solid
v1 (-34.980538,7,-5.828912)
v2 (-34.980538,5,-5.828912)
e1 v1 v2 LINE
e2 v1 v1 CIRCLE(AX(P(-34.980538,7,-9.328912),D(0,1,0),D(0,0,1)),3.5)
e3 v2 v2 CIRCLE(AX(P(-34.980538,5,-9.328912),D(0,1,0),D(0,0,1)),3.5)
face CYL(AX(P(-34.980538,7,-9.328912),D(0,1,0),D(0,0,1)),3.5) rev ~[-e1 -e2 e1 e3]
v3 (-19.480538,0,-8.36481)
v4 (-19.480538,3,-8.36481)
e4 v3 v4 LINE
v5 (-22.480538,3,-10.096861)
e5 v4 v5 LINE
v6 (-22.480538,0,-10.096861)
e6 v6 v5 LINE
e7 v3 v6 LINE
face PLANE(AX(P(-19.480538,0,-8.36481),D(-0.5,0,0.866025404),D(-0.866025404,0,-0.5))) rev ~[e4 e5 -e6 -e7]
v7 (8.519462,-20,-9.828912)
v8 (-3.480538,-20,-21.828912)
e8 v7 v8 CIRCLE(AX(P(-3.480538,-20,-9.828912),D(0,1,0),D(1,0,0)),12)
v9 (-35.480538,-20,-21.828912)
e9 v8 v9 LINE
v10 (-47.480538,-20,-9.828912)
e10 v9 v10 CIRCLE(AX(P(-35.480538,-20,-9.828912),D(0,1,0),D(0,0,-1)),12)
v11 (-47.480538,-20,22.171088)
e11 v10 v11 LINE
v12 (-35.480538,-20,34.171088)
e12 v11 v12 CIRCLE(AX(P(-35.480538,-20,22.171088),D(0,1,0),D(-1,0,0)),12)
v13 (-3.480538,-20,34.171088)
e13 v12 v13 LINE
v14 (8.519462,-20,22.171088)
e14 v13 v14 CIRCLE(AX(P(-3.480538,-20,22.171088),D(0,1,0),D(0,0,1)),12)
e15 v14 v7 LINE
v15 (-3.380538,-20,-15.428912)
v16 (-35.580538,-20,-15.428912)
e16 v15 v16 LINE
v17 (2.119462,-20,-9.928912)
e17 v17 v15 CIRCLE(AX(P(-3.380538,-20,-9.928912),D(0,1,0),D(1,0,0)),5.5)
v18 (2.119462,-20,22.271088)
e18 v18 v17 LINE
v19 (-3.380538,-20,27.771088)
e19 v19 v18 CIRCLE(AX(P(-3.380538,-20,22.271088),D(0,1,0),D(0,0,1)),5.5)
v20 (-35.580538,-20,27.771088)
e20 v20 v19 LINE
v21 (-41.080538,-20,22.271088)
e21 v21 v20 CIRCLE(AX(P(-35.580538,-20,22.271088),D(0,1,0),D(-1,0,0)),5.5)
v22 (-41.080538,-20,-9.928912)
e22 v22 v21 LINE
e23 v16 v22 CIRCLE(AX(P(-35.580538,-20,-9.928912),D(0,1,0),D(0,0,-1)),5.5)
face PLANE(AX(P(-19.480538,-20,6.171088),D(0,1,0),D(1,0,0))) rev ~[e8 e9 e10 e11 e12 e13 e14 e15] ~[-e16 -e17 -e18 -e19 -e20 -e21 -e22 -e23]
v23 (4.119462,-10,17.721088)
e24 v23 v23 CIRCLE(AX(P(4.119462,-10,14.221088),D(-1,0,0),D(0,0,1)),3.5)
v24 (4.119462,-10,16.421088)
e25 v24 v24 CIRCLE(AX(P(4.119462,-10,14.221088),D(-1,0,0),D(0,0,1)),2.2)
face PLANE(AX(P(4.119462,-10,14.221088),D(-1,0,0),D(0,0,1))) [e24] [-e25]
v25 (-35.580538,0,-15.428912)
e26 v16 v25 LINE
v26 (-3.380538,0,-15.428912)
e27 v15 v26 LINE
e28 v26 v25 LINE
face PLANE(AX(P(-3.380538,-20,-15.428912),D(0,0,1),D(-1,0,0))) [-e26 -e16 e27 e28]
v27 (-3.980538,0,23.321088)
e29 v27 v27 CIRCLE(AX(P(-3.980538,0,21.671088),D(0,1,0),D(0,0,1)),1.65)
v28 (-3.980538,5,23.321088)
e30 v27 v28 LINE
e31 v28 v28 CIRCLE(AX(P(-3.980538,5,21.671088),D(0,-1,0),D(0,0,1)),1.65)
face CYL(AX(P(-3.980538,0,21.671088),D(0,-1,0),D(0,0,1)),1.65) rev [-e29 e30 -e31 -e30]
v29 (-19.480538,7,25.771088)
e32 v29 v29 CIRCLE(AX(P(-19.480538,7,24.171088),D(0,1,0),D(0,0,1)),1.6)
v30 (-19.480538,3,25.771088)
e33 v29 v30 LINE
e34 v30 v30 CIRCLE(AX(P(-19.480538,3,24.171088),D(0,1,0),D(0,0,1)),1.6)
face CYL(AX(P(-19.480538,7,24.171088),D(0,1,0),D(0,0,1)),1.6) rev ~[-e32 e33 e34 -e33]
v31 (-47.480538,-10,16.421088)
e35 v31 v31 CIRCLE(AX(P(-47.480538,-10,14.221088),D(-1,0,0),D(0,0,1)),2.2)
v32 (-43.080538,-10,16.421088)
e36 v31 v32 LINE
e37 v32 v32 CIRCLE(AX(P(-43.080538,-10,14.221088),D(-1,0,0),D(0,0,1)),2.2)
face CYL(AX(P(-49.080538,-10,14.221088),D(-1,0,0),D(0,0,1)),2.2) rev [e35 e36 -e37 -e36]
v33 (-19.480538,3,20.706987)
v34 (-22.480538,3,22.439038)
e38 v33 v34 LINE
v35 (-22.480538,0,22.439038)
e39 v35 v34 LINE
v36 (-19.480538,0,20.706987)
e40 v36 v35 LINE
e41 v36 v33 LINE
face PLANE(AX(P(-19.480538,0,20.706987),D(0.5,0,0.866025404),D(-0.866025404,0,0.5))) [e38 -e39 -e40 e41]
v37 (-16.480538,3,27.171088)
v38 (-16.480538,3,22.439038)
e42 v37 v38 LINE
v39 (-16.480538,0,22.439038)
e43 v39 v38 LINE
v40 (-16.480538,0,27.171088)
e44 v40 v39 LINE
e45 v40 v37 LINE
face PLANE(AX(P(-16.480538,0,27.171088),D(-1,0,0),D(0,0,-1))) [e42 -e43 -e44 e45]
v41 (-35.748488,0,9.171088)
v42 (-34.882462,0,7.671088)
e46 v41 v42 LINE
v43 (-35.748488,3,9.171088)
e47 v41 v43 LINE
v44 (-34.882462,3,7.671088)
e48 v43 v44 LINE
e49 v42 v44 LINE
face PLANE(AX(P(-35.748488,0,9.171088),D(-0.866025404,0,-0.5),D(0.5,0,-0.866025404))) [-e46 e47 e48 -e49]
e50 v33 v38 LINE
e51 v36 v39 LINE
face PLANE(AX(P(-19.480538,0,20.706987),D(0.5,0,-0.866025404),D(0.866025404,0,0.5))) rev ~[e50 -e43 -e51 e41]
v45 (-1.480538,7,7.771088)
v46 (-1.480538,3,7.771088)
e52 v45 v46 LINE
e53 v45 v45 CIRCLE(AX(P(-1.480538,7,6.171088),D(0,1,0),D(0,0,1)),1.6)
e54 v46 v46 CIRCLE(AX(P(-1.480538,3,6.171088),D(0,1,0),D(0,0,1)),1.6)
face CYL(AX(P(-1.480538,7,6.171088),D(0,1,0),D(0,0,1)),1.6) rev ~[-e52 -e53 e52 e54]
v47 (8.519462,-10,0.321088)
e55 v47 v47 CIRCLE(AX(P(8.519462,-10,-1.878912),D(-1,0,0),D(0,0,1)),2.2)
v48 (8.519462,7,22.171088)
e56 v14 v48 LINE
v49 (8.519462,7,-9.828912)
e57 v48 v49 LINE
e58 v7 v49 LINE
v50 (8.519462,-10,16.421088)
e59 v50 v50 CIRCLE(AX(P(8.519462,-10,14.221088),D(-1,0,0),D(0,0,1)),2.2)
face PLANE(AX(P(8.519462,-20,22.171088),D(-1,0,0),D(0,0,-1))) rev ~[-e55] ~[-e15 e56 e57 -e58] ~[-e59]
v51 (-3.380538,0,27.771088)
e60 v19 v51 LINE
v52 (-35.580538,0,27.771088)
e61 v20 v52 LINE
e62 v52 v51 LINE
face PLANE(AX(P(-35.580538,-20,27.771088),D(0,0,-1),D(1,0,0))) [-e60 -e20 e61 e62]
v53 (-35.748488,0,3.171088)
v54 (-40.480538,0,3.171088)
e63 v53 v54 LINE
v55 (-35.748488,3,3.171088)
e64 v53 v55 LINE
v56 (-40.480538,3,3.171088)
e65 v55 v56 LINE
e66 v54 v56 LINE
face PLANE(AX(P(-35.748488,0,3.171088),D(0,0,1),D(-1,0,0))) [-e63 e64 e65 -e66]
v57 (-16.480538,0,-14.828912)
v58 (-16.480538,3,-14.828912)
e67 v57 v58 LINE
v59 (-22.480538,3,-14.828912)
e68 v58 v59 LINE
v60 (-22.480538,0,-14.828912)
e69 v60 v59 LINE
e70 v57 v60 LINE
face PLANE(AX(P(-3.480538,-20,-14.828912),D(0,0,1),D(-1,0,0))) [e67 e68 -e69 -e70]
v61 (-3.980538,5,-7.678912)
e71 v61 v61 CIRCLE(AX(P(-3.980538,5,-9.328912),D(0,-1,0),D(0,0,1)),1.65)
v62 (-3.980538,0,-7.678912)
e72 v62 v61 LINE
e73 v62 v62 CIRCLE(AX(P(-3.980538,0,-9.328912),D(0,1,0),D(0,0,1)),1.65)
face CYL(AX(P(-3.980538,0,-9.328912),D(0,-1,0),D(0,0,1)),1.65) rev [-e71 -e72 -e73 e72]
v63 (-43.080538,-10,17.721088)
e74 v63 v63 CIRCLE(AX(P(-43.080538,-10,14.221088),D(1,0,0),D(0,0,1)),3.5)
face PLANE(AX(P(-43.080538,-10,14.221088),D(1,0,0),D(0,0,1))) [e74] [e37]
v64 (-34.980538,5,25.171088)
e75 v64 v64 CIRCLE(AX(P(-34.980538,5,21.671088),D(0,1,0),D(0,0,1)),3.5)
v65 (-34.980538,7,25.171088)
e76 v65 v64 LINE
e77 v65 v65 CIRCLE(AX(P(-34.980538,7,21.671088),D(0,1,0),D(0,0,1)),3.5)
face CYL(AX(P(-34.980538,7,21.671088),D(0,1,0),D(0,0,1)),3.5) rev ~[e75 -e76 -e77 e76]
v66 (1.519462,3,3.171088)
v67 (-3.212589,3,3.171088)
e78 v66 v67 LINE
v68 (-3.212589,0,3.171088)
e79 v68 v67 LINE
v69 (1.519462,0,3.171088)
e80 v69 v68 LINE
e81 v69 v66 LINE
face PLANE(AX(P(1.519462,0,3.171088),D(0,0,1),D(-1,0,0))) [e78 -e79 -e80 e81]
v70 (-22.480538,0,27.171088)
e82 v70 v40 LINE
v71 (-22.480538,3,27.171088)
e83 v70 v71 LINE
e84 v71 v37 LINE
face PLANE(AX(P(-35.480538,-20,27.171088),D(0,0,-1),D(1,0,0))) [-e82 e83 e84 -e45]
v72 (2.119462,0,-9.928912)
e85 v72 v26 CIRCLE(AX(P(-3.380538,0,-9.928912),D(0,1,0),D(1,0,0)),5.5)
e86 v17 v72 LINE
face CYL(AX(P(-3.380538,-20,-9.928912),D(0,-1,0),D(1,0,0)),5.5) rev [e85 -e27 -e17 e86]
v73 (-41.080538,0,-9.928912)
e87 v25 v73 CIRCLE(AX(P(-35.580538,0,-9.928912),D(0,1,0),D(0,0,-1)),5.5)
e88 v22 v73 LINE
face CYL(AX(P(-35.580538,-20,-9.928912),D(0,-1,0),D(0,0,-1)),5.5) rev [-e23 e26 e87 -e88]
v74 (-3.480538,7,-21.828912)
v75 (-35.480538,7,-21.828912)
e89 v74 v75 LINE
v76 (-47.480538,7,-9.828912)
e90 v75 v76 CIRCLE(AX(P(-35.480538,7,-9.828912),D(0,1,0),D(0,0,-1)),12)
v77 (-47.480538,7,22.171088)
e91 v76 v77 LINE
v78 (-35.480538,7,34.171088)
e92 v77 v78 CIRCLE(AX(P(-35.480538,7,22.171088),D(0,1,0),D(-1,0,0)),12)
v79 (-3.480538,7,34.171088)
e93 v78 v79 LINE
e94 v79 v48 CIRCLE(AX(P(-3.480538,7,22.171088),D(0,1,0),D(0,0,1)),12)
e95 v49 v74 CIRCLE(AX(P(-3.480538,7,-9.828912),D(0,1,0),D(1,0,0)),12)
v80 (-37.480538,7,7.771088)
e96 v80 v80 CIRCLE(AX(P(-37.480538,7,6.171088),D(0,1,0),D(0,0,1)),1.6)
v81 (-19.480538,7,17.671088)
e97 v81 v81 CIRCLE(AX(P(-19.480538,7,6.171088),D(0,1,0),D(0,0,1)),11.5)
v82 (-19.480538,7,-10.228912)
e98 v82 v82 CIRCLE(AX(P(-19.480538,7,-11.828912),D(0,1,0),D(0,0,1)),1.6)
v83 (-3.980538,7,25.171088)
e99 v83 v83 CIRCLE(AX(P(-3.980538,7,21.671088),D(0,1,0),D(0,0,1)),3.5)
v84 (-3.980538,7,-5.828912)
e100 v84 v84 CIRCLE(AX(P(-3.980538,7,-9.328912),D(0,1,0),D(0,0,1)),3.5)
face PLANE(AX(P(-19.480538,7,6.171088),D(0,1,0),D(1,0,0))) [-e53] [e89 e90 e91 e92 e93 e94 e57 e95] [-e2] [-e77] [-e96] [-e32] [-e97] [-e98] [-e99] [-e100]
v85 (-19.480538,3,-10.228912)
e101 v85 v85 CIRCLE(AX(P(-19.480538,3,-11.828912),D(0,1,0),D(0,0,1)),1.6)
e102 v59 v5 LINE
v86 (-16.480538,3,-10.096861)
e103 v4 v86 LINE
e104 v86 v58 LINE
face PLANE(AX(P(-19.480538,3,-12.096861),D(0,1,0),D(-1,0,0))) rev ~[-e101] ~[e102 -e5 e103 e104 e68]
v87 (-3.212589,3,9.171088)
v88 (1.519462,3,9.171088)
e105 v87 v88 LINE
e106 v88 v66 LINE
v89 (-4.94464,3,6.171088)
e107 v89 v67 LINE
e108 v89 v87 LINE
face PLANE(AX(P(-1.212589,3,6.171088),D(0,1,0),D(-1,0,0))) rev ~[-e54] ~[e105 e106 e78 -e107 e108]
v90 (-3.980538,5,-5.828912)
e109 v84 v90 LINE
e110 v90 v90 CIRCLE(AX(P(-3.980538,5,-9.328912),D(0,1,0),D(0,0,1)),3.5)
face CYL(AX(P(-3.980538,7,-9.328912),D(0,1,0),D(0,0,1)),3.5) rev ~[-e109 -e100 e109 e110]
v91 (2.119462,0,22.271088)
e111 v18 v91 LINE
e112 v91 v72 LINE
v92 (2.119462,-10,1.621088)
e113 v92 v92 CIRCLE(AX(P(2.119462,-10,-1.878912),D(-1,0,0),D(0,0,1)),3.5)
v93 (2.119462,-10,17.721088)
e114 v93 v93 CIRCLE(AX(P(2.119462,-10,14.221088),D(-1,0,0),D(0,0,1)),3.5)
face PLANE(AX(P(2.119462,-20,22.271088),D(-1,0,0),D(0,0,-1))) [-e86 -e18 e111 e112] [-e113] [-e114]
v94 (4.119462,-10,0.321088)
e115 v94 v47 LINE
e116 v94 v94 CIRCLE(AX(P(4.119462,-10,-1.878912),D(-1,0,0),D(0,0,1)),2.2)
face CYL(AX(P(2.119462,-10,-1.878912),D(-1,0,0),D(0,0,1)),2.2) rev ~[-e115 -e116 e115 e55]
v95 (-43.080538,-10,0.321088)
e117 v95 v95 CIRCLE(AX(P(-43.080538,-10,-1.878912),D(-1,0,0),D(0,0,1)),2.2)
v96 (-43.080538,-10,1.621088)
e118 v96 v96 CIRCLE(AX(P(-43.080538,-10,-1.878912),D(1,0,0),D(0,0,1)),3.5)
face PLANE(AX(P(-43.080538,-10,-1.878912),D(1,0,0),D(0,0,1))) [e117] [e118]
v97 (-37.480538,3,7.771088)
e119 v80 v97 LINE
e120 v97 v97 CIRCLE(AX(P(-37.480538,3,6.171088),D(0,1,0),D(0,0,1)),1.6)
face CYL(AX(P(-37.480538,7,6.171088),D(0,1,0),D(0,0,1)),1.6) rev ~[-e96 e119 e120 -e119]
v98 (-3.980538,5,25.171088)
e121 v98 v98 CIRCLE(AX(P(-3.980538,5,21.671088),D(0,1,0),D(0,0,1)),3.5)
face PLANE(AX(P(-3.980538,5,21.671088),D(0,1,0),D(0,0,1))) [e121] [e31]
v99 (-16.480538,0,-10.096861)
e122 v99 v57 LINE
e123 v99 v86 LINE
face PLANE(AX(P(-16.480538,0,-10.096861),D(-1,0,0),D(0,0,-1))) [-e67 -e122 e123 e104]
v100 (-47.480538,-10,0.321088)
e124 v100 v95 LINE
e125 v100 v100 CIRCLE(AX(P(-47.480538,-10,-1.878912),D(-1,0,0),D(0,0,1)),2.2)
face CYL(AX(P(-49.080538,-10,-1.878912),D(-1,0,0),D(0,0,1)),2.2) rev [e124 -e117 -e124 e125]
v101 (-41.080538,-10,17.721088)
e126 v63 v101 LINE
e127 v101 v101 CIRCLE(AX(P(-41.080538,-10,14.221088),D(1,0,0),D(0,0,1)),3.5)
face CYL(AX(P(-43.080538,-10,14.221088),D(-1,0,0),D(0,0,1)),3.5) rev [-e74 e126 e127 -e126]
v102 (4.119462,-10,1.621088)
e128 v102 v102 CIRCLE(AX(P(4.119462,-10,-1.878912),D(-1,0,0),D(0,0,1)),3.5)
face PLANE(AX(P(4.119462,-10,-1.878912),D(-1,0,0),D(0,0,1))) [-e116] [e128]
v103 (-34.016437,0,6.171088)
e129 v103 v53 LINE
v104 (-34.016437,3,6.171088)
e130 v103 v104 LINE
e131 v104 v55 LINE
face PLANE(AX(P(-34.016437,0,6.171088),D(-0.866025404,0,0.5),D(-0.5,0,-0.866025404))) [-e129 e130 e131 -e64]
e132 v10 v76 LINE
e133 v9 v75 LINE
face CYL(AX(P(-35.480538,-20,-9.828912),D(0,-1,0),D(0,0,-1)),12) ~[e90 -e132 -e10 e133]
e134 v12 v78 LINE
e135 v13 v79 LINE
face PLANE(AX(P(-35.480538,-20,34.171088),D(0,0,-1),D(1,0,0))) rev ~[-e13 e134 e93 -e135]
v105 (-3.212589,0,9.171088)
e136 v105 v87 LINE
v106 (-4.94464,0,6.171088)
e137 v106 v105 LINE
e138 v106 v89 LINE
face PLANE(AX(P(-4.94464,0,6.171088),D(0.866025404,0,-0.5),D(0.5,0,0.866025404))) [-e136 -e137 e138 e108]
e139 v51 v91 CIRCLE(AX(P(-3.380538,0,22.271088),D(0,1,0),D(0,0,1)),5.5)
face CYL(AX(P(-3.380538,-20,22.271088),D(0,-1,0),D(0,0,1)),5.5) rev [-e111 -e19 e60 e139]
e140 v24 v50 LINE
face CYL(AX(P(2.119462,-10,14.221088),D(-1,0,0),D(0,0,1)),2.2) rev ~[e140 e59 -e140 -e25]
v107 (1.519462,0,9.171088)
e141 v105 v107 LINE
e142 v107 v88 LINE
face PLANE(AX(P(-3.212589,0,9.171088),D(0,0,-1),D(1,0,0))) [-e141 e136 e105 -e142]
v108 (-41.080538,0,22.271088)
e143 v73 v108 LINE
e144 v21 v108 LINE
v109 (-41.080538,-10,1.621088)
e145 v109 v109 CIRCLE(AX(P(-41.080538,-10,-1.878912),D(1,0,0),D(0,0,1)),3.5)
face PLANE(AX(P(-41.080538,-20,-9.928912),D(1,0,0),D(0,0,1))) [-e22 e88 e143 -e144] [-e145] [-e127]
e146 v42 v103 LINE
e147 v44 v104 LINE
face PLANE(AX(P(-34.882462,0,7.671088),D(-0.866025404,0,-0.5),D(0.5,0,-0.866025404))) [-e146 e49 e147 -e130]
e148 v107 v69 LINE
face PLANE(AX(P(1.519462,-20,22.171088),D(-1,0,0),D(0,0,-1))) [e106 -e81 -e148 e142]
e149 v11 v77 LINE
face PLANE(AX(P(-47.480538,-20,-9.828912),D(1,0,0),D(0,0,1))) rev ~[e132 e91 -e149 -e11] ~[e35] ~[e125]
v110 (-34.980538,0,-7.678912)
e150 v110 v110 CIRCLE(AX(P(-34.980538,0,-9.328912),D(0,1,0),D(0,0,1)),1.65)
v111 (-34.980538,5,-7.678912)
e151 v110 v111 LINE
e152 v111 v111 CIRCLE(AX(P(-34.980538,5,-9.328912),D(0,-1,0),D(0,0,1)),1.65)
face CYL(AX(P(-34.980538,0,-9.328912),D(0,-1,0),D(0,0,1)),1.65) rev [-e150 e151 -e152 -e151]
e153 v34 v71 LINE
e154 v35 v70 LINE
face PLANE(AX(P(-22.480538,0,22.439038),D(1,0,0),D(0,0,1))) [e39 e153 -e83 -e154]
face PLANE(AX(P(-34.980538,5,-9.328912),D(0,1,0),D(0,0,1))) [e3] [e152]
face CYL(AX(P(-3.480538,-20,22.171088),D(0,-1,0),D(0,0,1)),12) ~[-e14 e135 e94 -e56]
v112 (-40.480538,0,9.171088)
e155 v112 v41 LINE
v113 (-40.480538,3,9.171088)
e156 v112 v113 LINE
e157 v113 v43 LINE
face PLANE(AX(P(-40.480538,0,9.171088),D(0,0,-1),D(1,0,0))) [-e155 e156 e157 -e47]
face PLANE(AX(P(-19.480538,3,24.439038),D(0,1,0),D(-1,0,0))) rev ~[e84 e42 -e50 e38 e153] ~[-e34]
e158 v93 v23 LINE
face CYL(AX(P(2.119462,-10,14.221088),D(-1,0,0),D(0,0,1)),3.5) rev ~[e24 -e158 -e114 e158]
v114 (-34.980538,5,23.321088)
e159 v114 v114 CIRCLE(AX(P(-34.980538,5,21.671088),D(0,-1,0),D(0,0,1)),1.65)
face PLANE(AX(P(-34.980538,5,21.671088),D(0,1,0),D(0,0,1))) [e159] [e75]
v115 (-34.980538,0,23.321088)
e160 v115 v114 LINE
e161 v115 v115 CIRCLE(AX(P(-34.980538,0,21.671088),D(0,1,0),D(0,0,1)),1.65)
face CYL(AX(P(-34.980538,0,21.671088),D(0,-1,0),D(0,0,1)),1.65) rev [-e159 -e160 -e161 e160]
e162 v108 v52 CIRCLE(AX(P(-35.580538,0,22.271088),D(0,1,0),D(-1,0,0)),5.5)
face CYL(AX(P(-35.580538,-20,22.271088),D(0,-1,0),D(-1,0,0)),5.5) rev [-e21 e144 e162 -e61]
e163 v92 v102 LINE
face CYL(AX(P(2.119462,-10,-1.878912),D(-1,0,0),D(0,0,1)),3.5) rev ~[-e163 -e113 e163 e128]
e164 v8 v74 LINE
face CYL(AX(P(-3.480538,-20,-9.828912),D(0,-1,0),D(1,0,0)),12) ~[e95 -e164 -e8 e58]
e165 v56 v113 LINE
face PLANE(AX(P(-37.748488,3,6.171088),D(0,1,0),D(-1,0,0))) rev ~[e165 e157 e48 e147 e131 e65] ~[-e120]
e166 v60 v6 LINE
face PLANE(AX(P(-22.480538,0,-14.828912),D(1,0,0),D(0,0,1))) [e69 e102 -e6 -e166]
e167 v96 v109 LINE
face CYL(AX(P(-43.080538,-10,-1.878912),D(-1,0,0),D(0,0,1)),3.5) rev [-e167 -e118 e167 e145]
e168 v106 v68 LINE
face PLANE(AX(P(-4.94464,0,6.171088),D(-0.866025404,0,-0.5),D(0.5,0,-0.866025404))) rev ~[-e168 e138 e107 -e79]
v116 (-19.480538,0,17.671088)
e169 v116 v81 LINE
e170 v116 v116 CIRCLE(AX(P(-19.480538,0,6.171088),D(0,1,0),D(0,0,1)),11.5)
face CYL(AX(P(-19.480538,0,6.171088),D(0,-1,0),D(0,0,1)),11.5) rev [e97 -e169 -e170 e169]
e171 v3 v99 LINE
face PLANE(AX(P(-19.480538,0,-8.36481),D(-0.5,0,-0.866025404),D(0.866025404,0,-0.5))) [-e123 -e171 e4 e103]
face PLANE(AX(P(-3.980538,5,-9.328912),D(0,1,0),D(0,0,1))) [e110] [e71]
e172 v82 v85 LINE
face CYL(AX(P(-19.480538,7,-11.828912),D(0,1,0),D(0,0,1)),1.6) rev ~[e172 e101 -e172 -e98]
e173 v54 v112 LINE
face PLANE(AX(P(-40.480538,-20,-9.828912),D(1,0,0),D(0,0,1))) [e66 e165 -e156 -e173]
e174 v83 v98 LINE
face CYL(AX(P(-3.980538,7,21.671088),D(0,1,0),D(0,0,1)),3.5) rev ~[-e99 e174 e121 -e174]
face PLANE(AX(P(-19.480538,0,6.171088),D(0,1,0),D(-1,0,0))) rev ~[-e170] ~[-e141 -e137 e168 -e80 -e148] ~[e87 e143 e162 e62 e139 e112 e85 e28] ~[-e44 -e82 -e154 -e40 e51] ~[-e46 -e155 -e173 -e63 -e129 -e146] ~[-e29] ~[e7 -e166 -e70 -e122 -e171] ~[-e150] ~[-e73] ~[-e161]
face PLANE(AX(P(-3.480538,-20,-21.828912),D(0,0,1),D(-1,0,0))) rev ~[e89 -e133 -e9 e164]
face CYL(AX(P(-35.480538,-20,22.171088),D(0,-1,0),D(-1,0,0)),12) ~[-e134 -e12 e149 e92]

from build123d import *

# Parameters (mm, degrees)
SKETCH1_R           = 1.65
SKETCH1_R_2         = 11.5
BOSS_EXTRUDE1_DEPTH = 7
CUT_EXTRUDE3_DEPTH  = 3
BOSS_EXTRUDE4_START = -27
BOSS_EXTRUDE4_DEPTH = 27
CUT_EXTRUDE4_DEPTH  = 20
SKETCH7_R           = 2.2
CUT_EXTRUDE5_DEPTH  = 27
SKETCH8_R           = 3.5
CUT_EXTRUDE6_DEPTH  = 2
CUT_EXTRUDE7_START  = -8
SKETCH9_R           = 2.2
CUT_EXTRUDE7_DEPTH  = 8
CUT_EXTRUDE8_START  = -2
SKETCH10_R          = 3.5
CUT_EXTRUDE8_DEPTH  = 2
SKETCH11_R          = 3.5
CUT_EXTRUDE9_DEPTH  = 2
SKETCH12_R          = 1.6
CUT_EXTRUDE10_DEPTH = 7


with BuildPart() as part:
    # Sketch1 → Boss-Extrude1 (new body)
    with BuildSketch(Plane(origin=(0, 0, 0), x_dir=(1, 0, 0), z_dir=(0, 1, 0))):
        with BuildLine():
            Line((-35.480538417, 14.828911565), (-3.480538417, 14.828911565))
            ThreePointArc((-3.480538417, 14.828911565), (0.054995489, 13.364445471), (1.519461583, 9.828911565))
            Line((1.519461583, 9.828911565), (1.519461583, -22.171088435))
            ThreePointArc((1.519461583, -22.171088435), (0.054995489, -25.706622341), (-3.480538417, -27.171088435))
            Line((-3.480538417, -27.171088435), (-35.480538417, -27.171088435))
            ThreePointArc((-35.480538417, -27.171088435), (-39.016072323, -25.706622341), (-40.480538417, -22.171088435))
            Line((-40.480538417, -22.171088435), (-40.480538417, 9.828911565))
            ThreePointArc((-40.480538417, 9.828911565), (-39.016072323, 13.364445471), (-35.480538417, 14.828911565))
        make_face()
        with Locations(Location((-34.980538417, 9.328911565, 0), (0, 0, 270))):
            Circle(SKETCH1_R, mode=Mode.SUBTRACT)
        with Locations(Location((-3.980538417, 9.328911565, 0), (0, 0, 270))):
            Circle(SKETCH1_R, mode=Mode.SUBTRACT)
        with Locations(Location((-34.980538417, -21.671088435, 0), (0, 0, 270))):
            Circle(SKETCH1_R, mode=Mode.SUBTRACT)
        with Locations(Location((-3.980538417, -21.671088435, 0), (0, 0, 270))):
            Circle(SKETCH1_R, mode=Mode.SUBTRACT)
        with Locations(Location((-19.480538417, -6.171088435, 0), (0, 0, 270))):
            Circle(SKETCH1_R_2, mode=Mode.SUBTRACT)
    extrude(amount=BOSS_EXTRUDE1_DEPTH)

    # Sketch4 → Cut-Extrude3 (cut)
    with BuildSketch(Plane.XZ):
        Polygon((-22.480538417, 27.171088435), (-16.480538417, 27.171088435), (-16.480538417, 22.439037628), (-17.980538417, 21.573012224), (-19.480538417, 20.70698682), (-22.480538417, 22.439037628), align=None)
        Polygon((1.519461583, 3.171088435), (-3.212589224, 3.171088435), (-4.078614628, 4.671088435), (-4.944640032, 6.171088435), (-3.212589224, 9.171088435), (1.519461583, 9.171088435), align=None)
        Polygon((-22.480538417, -14.828911565), (-22.480538417, -10.096860757), (-20.980538417, -9.230835353), (-19.480538417, -8.364809949), (-16.480538417, -10.096860757), (-16.480538417, -14.828911565), align=None)
        Polygon((-40.480538417, 9.171088435), (-35.748487609, 9.171088435), (-34.882462206, 7.671088435), (-34.016436802, 6.171088435), (-35.748487609, 3.171088435), (-40.480538417, 3.171088435), align=None)
    extrude(amount=-CUT_EXTRUDE3_DEPTH, mode=Mode.SUBTRACT)

    # Sketch5 → Boss-Extrude4 (add)
    with BuildSketch(Plane(origin=(0, 7, 0), x_dir=(1, 0, 0), z_dir=(0, 1, 0)).offset(BOSS_EXTRUDE4_START)):
        with BuildLine():
            Line((-47.480538417, 9.828911565), (-47.480538417, -22.171088435))
            ThreePointArc((-47.480538417, -22.171088435), (-43.965819791, -30.65636981), (-35.480538417, -34.171088435))
            Line((-35.480538417, -34.171088435), (-3.480538417, -34.171088435))
            ThreePointArc((-3.480538417, -34.171088435), (5.004742957, -30.65636981), (8.519461583, -22.171088435))
            Line((8.519461583, -22.171088435), (8.519461583, 9.828911565))
            ThreePointArc((8.519461583, 9.828911565), (5.004742957, 18.314192939), (-3.480538417, 21.828911565))
            Line((-3.480538417, 21.828911565), (-35.480538417, 21.828911565))
            ThreePointArc((-35.480538417, 21.828911565), (-43.965819791, 18.314192939), (-47.480538417, 9.828911565))
        make_face()
        with BuildLine():
            ThreePointArc((-35.480538417, 14.828911565), (-39.016072323, 13.364445471), (-40.480538417, 9.828911565))
            Line((-40.480538417, 9.828911565), (-40.480538417, -22.171088435))
            ThreePointArc((-40.480538417, -22.171088435), (-39.016072323, -25.706622341), (-35.480538417, -27.171088435))
            Line((-35.480538417, -27.171088435), (-3.480538417, -27.171088435))
            ThreePointArc((-3.480538417, -27.171088435), (0.054995489, -25.706622341), (1.519461583, -22.171088435))
            Line((1.519461583, -22.171088435), (1.519461583, 9.828911565))
            ThreePointArc((1.519461583, 9.828911565), (0.054995489, 13.364445471), (-3.480538417, 14.828911565))
            Line((-3.480538417, 14.828911565), (-35.480538417, 14.828911565))
        make_face(mode=Mode.SUBTRACT)
    extrude(amount=BOSS_EXTRUDE4_DEPTH)

    # Sketch6 → Cut-Extrude4 (cut)
    with BuildSketch(Plane.XZ.offset(20)):
        with BuildLine():
            Line((2.119461583, 22.271088435), (2.119461583, -9.928911565))
            ThreePointArc((2.119461583, -9.928911565), (0.50854888, -13.817998861), (-3.380538417, -15.428911565))
            Line((-3.380538417, -15.428911565), (-35.580538417, -15.428911565))
            ThreePointArc((-35.580538417, -15.428911565), (-39.469625713, -13.817998861), (-41.080538417, -9.928911565))
            Line((-41.080538417, -9.928911565), (-41.080538417, 22.271088435))
            ThreePointArc((-41.080538417, 22.271088435), (-39.469625713, 26.160175732), (-35.580538417, 27.771088435))
            Line((-35.580538417, 27.771088435), (-3.380538417, 27.771088435))
            ThreePointArc((-3.380538417, 27.771088435), (0.50854888, 26.160175732), (2.119461583, 22.271088435))
        make_face()
    extrude(amount=-CUT_EXTRUDE4_DEPTH, mode=Mode.SUBTRACT)

    # Sketch7 → Cut-Extrude5 (cut)
    with BuildSketch(Plane.ZY.offset(-2.119461583)):
        with Locations((-1.878911565, -10)):
            Circle(SKETCH7_R)
        with Locations((14.221088435, -10)):
            Circle(SKETCH7_R)
    extrude(amount=-CUT_EXTRUDE5_DEPTH, mode=Mode.SUBTRACT)

    # Sketch8 → Cut-Extrude6 (cut)
    with BuildSketch(Plane.ZY.offset(-2.119461583)):
        with Locations((-1.878911565, -10)):
            Circle(SKETCH8_R)
        with Locations((14.221088435, -10)):
            Circle(SKETCH8_R)
    extrude(amount=-CUT_EXTRUDE6_DEPTH, mode=Mode.SUBTRACT)

    # Sketch9 → Cut-Extrude7 (cut)
    with BuildSketch(Plane(origin=(-41.080538417, 0, 0), x_dir=(0, 0, -1), z_dir=(1, 0, 0)).offset(CUT_EXTRUDE7_START)):
        with Locations(Location((-14.221088435, -10, 0), (0, 0, 180))):
            Circle(SKETCH9_R)
        with Locations(Location((1.878911565, -10, 0), (0, 0, 180))):
            Circle(SKETCH9_R)
    extrude(amount=CUT_EXTRUDE7_DEPTH, mode=Mode.SUBTRACT)

    # Sketch10 → Cut-Extrude8 (cut)
    with BuildSketch(Plane(origin=(-41.080538417, 0, 0), x_dir=(0, 0, -1), z_dir=(1, 0, 0)).offset(CUT_EXTRUDE8_START)):
        with Locations(Location((-14.221088435, -10, 0), (0, 0, 180))):
            Circle(SKETCH10_R)
        with Locations(Location((1.878911565, -10, 0), (0, 0, 180))):
            Circle(SKETCH10_R)
    extrude(amount=CUT_EXTRUDE8_DEPTH, mode=Mode.SUBTRACT)

    # Sketch11 → Cut-Extrude9 (cut)
    with BuildSketch(Plane(origin=(0, 7, 0), x_dir=(1, 0, 0), z_dir=(0, 1, 0))):
        with Locations(Location((-34.980538417, 9.328911565, 0), (0, 0, 270))):
            Circle(SKETCH11_R)
        with Locations(Location((-3.980538417, 9.328911565, 0), (0, 0, 270))):
            Circle(SKETCH11_R)
        with Locations(Location((-34.980538417, -21.671088435, 0), (0, 0, 270))):
            Circle(SKETCH11_R)
        with Locations(Location((-3.980538417, -21.671088435, 0), (0, 0, 270))):
            Circle(SKETCH11_R)
    extrude(amount=-CUT_EXTRUDE9_DEPTH, mode=Mode.SUBTRACT)

    # Sketch12 → Cut-Extrude10 (cut)
    with BuildSketch(Plane(origin=(0, 7, 0), x_dir=(1, 0, 0), z_dir=(0, 1, 0))):
        with Locations(Location((-19.480538417, 11.828911565, 0), (0, 0, 270))):
            Circle(SKETCH12_R)
        with Locations(Location((-37.480538417, -6.171088435, 0), (0, 0, 270))):
            Circle(SKETCH12_R)
        with Locations(Location((-19.480538417, -24.171088435, 0), (0, 0, 270))):
            Circle(SKETCH12_R)
        with Locations(Location((-1.480538417, -6.171088435, 0), (0, 0, 270))):
            Circle(SKETCH12_R)
    extrude(amount=-CUT_EXTRUDE10_DEPTH, mode=Mode.SUBTRACT)


solid = part.part
